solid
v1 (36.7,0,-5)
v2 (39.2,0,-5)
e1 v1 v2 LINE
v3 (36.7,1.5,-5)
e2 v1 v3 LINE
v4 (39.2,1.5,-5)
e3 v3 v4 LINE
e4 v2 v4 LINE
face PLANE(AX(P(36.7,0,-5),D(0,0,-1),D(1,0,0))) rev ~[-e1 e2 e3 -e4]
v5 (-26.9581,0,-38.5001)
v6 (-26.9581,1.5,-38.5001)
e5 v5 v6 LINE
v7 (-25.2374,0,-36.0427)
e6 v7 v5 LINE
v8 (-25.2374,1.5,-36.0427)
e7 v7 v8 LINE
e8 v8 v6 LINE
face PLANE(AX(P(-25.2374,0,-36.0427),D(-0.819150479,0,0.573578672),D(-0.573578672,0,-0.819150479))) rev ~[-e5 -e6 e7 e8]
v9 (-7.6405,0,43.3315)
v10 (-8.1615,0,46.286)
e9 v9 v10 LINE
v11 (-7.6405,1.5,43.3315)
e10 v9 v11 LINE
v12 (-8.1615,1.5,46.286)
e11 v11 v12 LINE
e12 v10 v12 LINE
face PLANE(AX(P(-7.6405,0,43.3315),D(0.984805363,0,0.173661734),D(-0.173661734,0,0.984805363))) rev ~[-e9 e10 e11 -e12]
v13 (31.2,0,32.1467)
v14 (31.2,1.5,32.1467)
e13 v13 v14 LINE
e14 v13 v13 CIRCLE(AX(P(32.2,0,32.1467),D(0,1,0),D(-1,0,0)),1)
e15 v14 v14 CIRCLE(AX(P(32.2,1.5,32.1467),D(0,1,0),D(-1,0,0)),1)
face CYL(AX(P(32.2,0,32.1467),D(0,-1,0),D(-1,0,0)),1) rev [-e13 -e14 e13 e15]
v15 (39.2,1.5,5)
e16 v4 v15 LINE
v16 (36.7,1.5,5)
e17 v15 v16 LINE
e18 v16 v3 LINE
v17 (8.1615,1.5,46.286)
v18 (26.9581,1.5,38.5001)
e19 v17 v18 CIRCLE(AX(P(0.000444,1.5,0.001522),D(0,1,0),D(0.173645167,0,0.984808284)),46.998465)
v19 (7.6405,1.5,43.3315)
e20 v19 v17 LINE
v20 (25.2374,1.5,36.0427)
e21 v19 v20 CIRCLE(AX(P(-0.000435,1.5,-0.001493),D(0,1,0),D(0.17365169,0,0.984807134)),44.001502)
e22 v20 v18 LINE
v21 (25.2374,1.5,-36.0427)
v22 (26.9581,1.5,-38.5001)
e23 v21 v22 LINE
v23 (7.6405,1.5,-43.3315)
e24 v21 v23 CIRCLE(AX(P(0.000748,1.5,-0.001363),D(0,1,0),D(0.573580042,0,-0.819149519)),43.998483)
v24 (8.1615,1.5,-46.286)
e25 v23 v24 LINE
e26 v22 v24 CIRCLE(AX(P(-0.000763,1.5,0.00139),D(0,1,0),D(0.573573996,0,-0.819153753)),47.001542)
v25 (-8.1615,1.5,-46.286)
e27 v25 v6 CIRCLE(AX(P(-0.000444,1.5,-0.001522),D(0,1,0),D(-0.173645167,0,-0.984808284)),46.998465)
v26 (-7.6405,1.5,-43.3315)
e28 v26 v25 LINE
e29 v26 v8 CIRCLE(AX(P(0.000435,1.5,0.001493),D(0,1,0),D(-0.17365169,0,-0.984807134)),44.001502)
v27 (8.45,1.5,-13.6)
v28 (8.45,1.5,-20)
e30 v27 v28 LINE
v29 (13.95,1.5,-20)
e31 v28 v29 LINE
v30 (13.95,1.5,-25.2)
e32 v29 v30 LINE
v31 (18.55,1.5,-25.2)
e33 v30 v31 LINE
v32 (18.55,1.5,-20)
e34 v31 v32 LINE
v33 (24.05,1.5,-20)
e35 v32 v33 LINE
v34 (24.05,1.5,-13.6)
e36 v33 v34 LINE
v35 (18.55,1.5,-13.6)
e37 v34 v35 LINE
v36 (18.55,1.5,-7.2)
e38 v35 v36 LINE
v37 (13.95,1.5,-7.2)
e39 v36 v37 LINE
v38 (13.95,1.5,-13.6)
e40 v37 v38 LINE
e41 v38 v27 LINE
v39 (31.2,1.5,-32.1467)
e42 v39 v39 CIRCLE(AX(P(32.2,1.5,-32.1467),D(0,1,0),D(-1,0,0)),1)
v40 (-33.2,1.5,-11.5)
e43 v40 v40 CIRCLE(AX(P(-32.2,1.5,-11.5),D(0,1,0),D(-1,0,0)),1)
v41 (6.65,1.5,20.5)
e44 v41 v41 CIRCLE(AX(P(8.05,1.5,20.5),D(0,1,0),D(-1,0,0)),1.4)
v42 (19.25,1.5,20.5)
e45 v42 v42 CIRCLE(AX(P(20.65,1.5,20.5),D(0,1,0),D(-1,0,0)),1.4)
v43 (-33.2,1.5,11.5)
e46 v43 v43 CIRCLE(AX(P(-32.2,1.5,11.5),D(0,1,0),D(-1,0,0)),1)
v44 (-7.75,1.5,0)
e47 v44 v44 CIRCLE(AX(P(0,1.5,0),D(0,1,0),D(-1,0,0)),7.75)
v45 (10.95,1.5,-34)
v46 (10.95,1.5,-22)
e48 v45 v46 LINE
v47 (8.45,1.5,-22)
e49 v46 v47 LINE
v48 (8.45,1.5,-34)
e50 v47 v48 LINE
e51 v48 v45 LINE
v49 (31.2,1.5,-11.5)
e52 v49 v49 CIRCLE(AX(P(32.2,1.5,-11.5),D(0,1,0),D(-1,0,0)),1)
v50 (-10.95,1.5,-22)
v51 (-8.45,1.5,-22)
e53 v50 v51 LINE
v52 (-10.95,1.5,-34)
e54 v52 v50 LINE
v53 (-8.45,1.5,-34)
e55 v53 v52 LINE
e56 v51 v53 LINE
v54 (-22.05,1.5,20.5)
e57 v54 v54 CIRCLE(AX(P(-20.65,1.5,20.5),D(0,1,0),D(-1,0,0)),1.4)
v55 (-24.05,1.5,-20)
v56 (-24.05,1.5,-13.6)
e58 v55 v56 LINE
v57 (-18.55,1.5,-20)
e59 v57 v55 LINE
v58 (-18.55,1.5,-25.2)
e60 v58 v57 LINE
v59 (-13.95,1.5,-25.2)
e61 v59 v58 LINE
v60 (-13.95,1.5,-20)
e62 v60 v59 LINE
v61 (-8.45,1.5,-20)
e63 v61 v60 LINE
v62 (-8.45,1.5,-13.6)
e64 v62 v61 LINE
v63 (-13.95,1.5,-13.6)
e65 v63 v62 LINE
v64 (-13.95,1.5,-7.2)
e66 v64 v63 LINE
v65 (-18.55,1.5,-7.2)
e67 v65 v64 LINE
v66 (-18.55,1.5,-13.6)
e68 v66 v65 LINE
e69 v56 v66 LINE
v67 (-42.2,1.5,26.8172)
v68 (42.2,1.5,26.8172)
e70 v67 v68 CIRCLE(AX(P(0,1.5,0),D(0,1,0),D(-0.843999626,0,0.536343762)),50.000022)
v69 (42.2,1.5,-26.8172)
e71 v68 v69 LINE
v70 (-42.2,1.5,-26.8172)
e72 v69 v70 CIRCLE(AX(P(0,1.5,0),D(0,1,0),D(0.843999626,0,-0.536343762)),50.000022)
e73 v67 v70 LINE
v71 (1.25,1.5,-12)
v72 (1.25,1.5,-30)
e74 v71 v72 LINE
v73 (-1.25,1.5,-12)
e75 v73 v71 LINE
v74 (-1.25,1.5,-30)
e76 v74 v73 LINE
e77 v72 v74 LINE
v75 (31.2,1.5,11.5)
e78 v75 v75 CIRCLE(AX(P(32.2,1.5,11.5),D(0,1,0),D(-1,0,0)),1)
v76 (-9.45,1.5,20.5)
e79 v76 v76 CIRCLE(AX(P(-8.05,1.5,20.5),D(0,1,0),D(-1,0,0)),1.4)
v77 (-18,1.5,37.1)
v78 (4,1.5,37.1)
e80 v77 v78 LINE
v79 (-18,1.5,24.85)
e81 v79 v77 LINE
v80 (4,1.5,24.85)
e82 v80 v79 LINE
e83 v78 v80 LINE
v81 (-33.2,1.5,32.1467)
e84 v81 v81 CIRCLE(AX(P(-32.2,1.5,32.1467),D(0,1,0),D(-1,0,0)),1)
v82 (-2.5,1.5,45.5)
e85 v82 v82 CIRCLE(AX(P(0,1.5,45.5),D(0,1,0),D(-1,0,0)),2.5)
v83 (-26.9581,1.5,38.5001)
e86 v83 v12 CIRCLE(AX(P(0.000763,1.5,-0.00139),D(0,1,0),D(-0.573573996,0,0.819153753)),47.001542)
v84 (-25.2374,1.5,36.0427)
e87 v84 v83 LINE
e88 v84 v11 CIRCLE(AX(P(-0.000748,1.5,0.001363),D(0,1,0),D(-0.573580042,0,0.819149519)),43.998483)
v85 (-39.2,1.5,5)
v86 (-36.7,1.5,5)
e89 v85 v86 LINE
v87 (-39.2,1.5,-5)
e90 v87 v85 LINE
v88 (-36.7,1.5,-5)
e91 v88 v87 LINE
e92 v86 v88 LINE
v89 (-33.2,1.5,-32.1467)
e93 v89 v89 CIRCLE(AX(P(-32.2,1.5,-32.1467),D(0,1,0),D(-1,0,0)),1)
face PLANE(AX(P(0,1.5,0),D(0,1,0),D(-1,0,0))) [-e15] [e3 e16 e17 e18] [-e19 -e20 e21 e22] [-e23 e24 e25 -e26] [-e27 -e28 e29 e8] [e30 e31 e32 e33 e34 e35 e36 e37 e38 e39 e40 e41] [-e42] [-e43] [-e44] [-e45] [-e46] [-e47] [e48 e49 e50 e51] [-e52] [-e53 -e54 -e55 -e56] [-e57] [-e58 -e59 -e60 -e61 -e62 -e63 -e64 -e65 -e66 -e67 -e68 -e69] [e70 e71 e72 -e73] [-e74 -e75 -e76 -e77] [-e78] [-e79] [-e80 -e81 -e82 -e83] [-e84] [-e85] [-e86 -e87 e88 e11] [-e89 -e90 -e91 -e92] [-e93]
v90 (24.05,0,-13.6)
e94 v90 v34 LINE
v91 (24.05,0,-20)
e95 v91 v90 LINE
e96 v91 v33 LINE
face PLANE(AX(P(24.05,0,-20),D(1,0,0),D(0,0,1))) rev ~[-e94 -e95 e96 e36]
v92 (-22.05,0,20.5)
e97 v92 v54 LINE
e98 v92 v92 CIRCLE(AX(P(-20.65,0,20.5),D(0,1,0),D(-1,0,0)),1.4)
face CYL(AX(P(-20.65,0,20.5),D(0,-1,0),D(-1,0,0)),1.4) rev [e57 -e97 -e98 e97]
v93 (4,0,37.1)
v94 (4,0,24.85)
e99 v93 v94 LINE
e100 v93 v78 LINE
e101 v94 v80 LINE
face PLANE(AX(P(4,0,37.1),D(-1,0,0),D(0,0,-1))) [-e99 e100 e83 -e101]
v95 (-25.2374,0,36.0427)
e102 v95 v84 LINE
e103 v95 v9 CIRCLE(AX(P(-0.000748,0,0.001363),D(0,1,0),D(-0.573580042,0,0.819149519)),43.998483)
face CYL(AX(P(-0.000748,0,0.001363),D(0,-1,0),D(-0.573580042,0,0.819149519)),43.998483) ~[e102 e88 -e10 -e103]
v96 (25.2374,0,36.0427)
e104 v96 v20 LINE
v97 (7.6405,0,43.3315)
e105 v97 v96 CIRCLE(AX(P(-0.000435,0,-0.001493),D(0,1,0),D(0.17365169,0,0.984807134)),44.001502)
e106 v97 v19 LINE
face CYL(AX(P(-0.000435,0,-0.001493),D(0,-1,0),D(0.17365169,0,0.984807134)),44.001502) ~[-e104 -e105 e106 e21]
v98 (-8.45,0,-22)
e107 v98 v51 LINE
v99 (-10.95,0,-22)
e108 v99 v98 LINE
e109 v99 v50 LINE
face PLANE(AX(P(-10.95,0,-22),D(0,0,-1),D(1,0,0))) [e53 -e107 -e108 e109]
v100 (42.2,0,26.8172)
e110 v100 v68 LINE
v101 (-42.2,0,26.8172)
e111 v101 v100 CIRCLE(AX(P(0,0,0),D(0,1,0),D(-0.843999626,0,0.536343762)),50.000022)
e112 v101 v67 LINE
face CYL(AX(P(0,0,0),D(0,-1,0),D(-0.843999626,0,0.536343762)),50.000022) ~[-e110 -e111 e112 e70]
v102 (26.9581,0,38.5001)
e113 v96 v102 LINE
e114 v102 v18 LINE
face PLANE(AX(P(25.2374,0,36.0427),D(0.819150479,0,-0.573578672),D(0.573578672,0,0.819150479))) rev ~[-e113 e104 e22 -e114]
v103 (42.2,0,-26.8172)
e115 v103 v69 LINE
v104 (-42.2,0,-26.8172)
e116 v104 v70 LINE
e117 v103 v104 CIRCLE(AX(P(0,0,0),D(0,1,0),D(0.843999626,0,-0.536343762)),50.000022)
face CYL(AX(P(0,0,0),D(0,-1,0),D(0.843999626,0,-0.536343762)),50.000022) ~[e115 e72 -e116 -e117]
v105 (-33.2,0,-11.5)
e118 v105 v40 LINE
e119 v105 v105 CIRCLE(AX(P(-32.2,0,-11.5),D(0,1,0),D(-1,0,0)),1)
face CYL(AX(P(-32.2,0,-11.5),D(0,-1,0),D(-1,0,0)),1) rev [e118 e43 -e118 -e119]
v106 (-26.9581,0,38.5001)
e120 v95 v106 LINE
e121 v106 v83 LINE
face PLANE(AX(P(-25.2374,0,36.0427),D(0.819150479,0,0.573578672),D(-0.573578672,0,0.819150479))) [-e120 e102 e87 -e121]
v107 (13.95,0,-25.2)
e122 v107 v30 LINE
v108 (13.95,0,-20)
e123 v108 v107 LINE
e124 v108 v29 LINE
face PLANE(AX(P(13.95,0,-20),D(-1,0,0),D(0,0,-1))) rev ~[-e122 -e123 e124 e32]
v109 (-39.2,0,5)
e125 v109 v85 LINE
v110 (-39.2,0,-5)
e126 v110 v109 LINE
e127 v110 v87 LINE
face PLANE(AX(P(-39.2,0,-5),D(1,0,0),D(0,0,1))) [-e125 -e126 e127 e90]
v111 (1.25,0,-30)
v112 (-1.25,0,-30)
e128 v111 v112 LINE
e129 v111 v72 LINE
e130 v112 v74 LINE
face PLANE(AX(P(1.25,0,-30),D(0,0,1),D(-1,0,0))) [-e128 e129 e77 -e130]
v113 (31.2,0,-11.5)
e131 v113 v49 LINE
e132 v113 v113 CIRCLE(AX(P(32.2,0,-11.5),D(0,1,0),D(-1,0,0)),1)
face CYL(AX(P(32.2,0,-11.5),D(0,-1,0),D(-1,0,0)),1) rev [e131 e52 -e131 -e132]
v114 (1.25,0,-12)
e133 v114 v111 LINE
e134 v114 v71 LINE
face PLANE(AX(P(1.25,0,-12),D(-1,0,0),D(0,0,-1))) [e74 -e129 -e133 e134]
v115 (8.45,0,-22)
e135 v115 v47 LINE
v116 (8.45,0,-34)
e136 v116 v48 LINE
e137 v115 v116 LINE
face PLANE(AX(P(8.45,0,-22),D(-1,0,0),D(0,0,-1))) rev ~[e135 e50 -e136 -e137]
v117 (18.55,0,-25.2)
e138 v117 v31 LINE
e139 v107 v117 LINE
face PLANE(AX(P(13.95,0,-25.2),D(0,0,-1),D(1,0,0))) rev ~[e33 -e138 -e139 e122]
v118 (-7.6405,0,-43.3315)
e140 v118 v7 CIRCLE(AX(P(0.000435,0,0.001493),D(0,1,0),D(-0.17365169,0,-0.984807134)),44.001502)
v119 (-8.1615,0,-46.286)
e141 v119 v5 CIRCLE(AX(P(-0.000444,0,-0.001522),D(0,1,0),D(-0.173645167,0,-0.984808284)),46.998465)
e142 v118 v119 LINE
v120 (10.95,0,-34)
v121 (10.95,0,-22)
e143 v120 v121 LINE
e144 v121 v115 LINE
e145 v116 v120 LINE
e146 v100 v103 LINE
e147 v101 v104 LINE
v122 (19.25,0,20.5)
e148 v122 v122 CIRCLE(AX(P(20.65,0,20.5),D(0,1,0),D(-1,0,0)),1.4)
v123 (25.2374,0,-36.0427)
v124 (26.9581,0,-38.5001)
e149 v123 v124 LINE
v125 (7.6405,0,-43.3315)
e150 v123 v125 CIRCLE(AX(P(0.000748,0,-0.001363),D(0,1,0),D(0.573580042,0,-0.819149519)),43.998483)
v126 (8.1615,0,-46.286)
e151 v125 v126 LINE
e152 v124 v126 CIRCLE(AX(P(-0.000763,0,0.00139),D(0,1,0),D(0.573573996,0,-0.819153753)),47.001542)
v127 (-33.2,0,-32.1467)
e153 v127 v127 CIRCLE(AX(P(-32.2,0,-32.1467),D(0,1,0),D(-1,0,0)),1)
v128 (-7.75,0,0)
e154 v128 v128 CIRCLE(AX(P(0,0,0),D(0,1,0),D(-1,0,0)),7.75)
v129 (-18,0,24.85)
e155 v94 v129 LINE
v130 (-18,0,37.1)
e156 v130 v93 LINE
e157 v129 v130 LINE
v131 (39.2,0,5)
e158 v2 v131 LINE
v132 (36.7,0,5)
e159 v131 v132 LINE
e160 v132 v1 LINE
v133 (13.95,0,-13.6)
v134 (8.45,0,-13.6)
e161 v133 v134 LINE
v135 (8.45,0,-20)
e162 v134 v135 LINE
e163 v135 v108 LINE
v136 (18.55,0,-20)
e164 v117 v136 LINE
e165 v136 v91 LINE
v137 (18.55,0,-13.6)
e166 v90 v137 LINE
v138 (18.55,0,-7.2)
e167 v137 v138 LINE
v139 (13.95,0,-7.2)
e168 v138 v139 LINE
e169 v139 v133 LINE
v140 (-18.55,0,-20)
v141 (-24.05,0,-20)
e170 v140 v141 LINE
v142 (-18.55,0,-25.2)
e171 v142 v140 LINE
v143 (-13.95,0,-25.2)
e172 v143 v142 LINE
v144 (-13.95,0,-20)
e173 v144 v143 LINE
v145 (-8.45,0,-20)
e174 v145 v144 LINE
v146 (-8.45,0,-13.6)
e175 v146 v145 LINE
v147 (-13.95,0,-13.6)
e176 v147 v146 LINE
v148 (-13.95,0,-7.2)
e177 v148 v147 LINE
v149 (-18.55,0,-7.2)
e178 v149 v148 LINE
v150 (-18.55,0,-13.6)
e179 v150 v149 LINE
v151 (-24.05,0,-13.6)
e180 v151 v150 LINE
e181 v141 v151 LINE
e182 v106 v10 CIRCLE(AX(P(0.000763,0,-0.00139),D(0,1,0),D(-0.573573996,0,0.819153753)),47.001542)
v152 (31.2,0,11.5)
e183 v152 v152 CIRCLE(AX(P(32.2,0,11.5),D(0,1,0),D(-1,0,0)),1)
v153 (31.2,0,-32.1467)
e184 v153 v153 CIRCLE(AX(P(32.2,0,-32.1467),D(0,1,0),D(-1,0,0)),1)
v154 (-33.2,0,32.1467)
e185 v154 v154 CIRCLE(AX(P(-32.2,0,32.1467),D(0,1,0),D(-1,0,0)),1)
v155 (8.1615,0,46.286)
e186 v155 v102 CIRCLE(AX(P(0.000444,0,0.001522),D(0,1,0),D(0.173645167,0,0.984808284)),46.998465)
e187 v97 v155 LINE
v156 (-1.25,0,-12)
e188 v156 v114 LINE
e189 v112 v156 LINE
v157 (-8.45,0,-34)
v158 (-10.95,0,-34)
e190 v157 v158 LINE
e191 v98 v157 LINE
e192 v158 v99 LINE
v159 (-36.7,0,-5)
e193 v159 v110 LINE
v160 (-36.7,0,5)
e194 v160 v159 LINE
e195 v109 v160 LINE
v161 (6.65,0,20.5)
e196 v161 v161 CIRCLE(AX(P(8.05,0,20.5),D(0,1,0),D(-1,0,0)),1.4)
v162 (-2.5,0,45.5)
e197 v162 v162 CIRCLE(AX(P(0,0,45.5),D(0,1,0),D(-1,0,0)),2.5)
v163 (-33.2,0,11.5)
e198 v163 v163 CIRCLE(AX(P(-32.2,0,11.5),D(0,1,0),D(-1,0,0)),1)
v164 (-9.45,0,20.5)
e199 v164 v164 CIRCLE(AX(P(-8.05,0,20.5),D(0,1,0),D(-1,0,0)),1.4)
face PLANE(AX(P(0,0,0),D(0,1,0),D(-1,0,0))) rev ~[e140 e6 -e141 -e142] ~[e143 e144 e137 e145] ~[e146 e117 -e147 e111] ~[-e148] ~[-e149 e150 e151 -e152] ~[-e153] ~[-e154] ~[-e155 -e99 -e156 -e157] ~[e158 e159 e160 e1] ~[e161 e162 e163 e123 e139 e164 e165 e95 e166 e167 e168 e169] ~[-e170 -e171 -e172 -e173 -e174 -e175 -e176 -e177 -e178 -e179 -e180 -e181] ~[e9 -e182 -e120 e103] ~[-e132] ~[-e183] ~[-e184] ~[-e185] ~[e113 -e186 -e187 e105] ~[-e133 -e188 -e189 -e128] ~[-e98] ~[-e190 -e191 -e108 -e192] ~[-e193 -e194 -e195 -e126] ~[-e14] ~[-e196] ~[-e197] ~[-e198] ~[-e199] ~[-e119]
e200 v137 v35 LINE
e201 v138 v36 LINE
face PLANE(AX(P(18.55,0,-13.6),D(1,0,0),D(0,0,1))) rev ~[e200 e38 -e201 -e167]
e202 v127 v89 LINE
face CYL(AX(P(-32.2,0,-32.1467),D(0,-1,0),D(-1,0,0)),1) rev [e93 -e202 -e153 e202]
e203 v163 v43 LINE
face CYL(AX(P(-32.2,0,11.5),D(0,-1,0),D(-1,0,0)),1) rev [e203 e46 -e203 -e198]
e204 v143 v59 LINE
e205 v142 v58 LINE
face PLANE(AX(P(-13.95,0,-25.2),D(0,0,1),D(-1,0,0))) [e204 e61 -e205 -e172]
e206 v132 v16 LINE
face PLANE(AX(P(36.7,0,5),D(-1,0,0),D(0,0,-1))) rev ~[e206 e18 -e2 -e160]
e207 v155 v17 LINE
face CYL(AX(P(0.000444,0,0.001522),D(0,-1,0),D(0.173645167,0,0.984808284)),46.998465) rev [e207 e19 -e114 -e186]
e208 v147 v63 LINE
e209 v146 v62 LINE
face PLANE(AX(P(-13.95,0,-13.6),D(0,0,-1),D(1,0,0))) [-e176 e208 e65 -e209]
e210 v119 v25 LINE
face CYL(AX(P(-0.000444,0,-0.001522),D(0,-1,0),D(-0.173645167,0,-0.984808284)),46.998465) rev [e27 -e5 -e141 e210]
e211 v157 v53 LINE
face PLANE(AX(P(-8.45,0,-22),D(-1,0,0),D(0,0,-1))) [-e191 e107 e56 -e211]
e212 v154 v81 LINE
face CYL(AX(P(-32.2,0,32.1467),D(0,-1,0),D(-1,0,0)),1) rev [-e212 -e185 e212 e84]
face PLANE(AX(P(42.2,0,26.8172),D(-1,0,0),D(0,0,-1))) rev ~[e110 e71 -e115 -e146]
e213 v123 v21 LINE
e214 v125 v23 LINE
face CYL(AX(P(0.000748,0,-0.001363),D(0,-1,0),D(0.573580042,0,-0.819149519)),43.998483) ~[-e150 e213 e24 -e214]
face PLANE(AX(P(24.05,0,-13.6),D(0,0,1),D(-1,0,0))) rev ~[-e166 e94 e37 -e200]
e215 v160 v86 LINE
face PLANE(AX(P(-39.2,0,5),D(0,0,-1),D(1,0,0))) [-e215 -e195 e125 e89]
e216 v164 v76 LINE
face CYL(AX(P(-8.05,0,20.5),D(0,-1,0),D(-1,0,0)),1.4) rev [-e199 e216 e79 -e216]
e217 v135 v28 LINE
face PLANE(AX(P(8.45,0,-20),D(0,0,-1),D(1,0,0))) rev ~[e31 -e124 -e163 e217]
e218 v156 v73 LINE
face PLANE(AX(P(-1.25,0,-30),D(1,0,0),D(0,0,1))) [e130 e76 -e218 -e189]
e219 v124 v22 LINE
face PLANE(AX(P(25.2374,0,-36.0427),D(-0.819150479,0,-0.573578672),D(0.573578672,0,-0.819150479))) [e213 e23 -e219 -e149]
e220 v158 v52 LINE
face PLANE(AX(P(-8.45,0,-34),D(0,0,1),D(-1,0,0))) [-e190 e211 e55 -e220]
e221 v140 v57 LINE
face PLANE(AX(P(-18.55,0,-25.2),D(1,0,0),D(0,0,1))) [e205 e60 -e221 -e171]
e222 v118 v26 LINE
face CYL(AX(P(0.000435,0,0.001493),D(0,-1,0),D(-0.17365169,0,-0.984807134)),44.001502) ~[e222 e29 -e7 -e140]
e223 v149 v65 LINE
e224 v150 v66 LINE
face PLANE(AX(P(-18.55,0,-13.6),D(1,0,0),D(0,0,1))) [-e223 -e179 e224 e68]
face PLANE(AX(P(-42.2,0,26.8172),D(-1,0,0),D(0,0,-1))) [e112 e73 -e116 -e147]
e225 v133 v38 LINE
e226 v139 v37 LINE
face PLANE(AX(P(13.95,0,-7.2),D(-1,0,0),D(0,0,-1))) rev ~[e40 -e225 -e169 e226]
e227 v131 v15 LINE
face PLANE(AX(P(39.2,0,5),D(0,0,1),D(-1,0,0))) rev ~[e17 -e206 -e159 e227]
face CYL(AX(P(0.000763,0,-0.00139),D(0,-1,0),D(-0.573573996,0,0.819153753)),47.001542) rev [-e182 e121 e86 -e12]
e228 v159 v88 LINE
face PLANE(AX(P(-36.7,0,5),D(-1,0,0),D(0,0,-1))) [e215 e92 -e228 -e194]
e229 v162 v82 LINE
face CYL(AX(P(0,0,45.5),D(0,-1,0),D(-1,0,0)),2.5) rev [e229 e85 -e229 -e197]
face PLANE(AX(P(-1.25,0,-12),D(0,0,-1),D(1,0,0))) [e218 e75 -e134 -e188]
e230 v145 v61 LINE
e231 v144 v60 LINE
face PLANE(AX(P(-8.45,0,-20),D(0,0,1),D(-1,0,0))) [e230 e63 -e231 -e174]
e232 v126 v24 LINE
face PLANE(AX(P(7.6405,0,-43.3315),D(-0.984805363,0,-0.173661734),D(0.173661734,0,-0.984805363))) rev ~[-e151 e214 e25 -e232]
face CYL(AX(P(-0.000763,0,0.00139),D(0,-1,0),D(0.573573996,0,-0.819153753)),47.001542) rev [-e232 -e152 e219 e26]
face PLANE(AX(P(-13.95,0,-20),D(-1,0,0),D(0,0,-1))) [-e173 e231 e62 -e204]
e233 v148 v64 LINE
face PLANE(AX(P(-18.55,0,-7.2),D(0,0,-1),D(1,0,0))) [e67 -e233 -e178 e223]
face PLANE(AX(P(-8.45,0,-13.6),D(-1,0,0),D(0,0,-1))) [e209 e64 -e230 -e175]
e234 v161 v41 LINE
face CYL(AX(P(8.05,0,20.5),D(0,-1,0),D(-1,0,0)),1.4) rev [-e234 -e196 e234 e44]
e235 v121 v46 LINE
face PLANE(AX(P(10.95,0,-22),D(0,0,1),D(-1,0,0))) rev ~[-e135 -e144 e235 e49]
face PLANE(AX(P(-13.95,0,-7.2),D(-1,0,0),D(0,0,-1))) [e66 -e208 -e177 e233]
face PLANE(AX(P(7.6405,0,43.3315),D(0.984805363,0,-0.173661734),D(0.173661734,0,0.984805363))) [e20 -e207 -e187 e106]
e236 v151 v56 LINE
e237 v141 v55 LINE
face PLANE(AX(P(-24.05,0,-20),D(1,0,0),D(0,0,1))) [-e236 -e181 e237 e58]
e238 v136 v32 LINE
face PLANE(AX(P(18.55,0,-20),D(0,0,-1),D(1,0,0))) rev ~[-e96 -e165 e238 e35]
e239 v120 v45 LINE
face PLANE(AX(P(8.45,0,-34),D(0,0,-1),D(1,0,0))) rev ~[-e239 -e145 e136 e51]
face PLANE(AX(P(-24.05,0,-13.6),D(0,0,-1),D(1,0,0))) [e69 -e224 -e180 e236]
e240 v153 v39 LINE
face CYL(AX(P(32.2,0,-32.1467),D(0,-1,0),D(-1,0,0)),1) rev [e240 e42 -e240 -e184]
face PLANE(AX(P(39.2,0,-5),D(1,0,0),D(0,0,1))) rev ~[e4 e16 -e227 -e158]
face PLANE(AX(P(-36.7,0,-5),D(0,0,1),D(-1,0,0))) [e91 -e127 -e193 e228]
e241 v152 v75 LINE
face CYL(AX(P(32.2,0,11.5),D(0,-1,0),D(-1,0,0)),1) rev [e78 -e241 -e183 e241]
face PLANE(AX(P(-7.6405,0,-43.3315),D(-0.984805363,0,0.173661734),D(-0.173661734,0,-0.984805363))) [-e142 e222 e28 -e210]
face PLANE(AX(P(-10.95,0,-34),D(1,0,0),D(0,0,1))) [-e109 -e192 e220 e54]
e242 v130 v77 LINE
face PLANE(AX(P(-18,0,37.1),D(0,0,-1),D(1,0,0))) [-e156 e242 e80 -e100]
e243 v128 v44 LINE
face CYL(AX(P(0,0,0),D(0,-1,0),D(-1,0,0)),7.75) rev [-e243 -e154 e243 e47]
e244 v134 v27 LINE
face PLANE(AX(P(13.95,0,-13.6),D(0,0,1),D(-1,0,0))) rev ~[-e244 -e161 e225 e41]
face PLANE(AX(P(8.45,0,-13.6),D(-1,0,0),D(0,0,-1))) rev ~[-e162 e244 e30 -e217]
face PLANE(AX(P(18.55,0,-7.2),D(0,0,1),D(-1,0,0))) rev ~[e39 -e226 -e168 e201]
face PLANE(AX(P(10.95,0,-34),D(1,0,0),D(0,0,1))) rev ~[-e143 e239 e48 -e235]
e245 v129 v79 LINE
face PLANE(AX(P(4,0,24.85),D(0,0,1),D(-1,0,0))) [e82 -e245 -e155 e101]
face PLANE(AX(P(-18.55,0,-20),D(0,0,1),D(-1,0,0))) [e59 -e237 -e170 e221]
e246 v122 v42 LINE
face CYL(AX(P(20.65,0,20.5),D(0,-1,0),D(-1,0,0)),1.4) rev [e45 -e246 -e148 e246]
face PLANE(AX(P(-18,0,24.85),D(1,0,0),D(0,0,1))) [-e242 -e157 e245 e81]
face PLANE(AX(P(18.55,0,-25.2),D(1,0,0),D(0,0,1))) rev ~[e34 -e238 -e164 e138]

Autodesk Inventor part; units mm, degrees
ref_plane "YZ Plane" through (0, 0, 0) normal (1, 0, 0) x (0, 1, 0)
ref_plane "XZ Plane" through (0, 0, 0) normal (0, 1, 0) x (-1, 0, 0)
ref_plane "XY Plane" through (0, 0, 0) normal (0, 0, 1) x (1, 0, 0)
sketch "Sketch1" plane through (0, 0, 0) normal (0, 1, 0) x (-1, 0, 0)
  line L0 (42.2, 26.8172) -> (42.2, -26.8172)
  line L1 (0, 0) -> (0, -50) construction
  line L2 (-42.2, 26.8172) -> (-42.2, -26.8172)
  arc A0 (42.2, 26.8172) -> (-42.2, 26.8172) centre (0, 0) ccw
  arc A1 (-42.2, -26.8172) -> (42.2, -26.8172) centre (0, 0) ccw
  line L3 (39.2, 5) -> (36.7, 5)
  line L4 (36.7, 5) -> (36.7, -5)
  line L5 (36.7, -5) -> (39.2, -5)
  line L6 (39.2, -5) -> (39.2, 5)
  circle A2 centre (0, 0) radius 7.75
  line L7 (1.25, -12) -> (-1.25, -12)
  line L8 (-1.25, -12) -> (-1.25, -30)
  line L9 (-1.25, -30) -> (1.25, -30)
  line L10 (1.25, -30) -> (1.25, -12)
  line L11 (10.95, -22) -> (8.45, -22)
  line L12 (8.45, -22) -> (8.45, -34)
  line L13 (8.45, -34) -> (10.95, -34)
  line L14 (10.95, -34) -> (10.95, -22)
  line L15 (8.45, -13.6) -> (8.45, -20)
  line L16 (24.05, -20) -> (24.05, -13.6)
  line L17 (18.55, -7.2) -> (13.95, -7.2)
  line L18 (13.95, -25.2) -> (18.55, -25.2)
  line L19 (18, 37.1) -> (-4, 37.1)
  line L20 (-4, 37.1) -> (-4, 24.85)
  line L21 (-4, 24.85) -> (18, 24.85)
  line L22 (18, 24.85) -> (18, 37.1)
  line L23 (25.2374, 36.0427) -> (26.9581, 38.5001)
  line L24 (0, 0) -> (7.6405, 43.3315) construction
  line L25 (7.6405, 43.3315) -> (8.1615, 46.286)
  line L26 (0, 0) -> (42.2, 0) construction
  line L27 (25.2374, -36.0427) -> (26.9581, -38.5001)
  line L28 (7.6405, -43.3315) -> (8.1615, -46.286)
  arc A3 (7.6405, -43.3315) -> (25.2374, -36.0427) centre (0, 0) ccw
  arc A4 (25.2374, 36.0427) -> (7.6405, 43.3315) centre (0, 0) ccw
  arc A5 (8.1615, -46.286) -> (26.9581, -38.5001) centre (0, 0) ccw
  arc A6 (26.9581, 38.5001) -> (8.1615, 46.286) centre (0, 0) ccw
  line L29 (0, 0) -> (25.2374, 36.0427) construction
  line L30 (16.25, -7.2) -> (16.25, -25.2) construction
  line L31 (18.55, -25.2) -> (18.55, -20)
  line L32 (18.55, -13.6) -> (18.55, -7.2)
  line L33 (24.05, -13.6) -> (18.55, -13.6)
  line L34 (13.95, -13.6) -> (8.45, -13.6)
  line L35 (13.95, -7.2) -> (13.95, -13.6)
  line L36 (13.95, -20) -> (13.95, -25.2)
  line L37 (8.45, -20) -> (13.95, -20)
  line L38 (18.55, -20) -> (24.05, -20)
  line L39 (-39.2, 5) -> (-36.7, 5)
  line L40 (-36.7, 5) -> (-36.7, -5)
  line L41 (-36.7, -5) -> (-39.2, -5)
  line L42 (-39.2, -5) -> (-39.2, 5)
  line L43 (-8.45, 16.1) -> (-8.45, 9.2)
  line L44 (-11.55, 9.2) -> (-11.55, 16.1)
  line L45 (-10.95, -22) -> (-8.45, -22)
  line L46 (-8.45, -22) -> (-8.45, -34)
  line L47 (-8.45, -34) -> (-10.95, -34)
  line L48 (-10.95, -34) -> (-10.95, -22)
  line L49 (-8.45, -13.6) -> (-8.45, -20)
  line L50 (-24.05, -20) -> (-24.05, -13.6)
  line L51 (-18.55, -7.2) -> (-13.95, -7.2)
  line L52 (-13.95, -25.2) -> (-18.55, -25.2)
  line L53 (-25.2374, 36.0427) -> (-26.9581, 38.5001)
  line L54 (-7.6405, 43.3315) -> (-8.1615, 46.286)
  line L55 (0, 0) -> (-42.2, 0) construction
  line L56 (-25.2374, -36.0427) -> (-26.9581, -38.5001)
  line L57 (-7.6405, -43.3315) -> (-8.1615, -46.286)
  arc A7 (-25.2374, -36.0427) -> (-7.6405, -43.3315) centre (0, 0) ccw
  arc A8 (-7.6405, 43.3315) -> (-25.2374, 36.0427) centre (0, 0) ccw
  arc A9 (-26.9581, -38.5001) -> (-8.1615, -46.286) centre (0, 0) ccw
  arc A10 (-8.1615, 46.286) -> (-26.9581, 38.5001) centre (0, 0) ccw
  line L58 (-18.55, -25.2) -> (-18.55, -20)
  line L59 (-18.55, -13.6) -> (-18.55, -7.2)
  line L60 (-24.05, -13.6) -> (-18.55, -13.6)
  line L61 (-13.95, -13.6) -> (-8.45, -13.6)
  line L62 (-13.95, -7.2) -> (-13.95, -13.6)
  line L63 (-13.95, -20) -> (-13.95, -25.2)
  line L64 (-8.45, -20) -> (-13.95, -20)
  line L65 (-18.55, -20) -> (-24.05, -20)
  circle A11 centre (0, 0) radius 45.5 construction
  circle A12 centre (32.2, -32.1467) radius 1
  circle A13 centre (32.2, 11.5) radius 1
  line L66 (11.95, 11.5) -> (32.2, 11.5) construction
  circle A14 centre (32.2, -11.5) radius 1
  circle A15 centre (32.2, 32.1467) radius 1
  circle A16 centre (-32.2, -32.1467) radius 1
  circle A17 centre (-32.2, 11.5) radius 1
  circle A18 centre (-32.2, -11.5) radius 1
  circle A19 centre (-32.2, 32.1467) radius 1
  arc A20 (-8.45, 16.1) -> (-11.55, 16.1) centre (-10, 16.1) ccw
  arc A21 (-11.55, 9.2) -> (-8.45, 9.2) centre (-10, 9.2) ccw
  arc A22 (-9.8689, 7.6556) -> (-8.45, 9.2) centre (-10, 9.2) ccw
  line L67 (11.55, 9.2) -> (11.55, 16.1)
  line L68 (8.45, 16.1) -> (8.45, 9.2)
  arc A23 (11.55, 16.1) -> (8.45, 16.1) centre (10, 16.1) ccw
  arc A24 (8.45, 9.2) -> (11.55, 9.2) centre (10, 9.2) ccw
  circle A25 centre (-8.05, 20.5) radius 1.4
  circle A26 centre (8.05, 20.5) radius 1.4
  circle A27 centre (-20.65, 20.5) radius 1.4
  circle A28 centre (20.65, 20.5) radius 1.4
  line L69 (-1.55, 11.2) -> (-1.55, 18.1)
  arc A29 (1.55, 18.1) -> (-1.55, 18.1) centre (0, 18.1) ccw
  line L70 (1.55, 18.1) -> (1.55, 11.2)
  arc A30 (-1.55, 11.2) -> (1.55, 11.2) centre (0, 11.2) ccw
  circle A31 centre (0, 45.5) radius 2.5
  line L71 (0, 45.5) -> (0, 50) construction
  line L72 (0, 50) -> (0, 45.5) construction
  point P0 (-16.25, -7.2)
  point P1 (26.0977, -37.2714)
  dimension "d1" = 42.2
  dimension "d2" = 50
  dimension "d5" = 10
  dimension "d6" = 35
  dimension "d7" = 44
  dimension "d8" = 47
  dimension "d9" = 10
  dimension "d10" = 3
  dimension "d11" = 2.5
  dimension "d12" = 15.5
  dimension "d13" = 12
  dimension "d14" = 18
  dimension "d15" = 1.25
  dimension "d20" = 12
  dimension "d21" = 10
  dimension "d22" = 12.25
  dimension "d23" = 4
  dimension "d24" = 22
  dimension "d26" = 4.6
  dimension "d27" = 6.4
  dimension "d28" = 18
  dimension "d30" = 5.5
  dimension "d39" = 10
  dimension "d40" = 2
  dimension "d47" = 20.25
  dimension "d52" = 2.8
  dimension "d55" = 12.6
  dimension "d57" = 20.5
  dimension "d58" = 3.1
  dimension "d59" = 6.9
  dimension "d60" = 3.1
  dimension "d61" = 11.2
  dimension "d62" = 13.1
  dimension "d63" = 16.1
  dimension "d64" = 2
  dimension "d65" = 6.5
  dimension "d66" = 24.85
  dimension "d67" = 5.2
  dimension "d68" = 25.2
  dimension "d69" = 5
extrude "Extrusion1" add sketch "Sketch1" along normal blind 1.5 contours L0 A1 L2 A0 | L43 A21 L44 A20 | A24 L68 A23 L67 | L69 A29 L70 A30
sketch "Sketch2" plane through (0, 1.5, 0) normal (0, 1, 0) x (1, 0, 0)
  line L0 (-24.05, 13.6) -> (-24.05, 20) construction
  line L1 (24.05, 13.6) -> (24.05, 20) construction
  line L2 (24.05, 16.8) -> (49.05, 16.8) construction
  line L3 (-24.05, 16.8) -> (-24.05, -20.5) construction
  line L4 (-24.05, -20.5) -> (-49.8842, -20.5) construction
  circle A0 centre (-20.65, -20.5) radius 1.4 projected
  line L5 (-24.05, 20) -> (-24.05, 13.6) projected
  line L6 (-24.05, 16.8) -> (-50.8471, 16.8) construction
  point P0 (0, 0)
properties part number "base_quick"
